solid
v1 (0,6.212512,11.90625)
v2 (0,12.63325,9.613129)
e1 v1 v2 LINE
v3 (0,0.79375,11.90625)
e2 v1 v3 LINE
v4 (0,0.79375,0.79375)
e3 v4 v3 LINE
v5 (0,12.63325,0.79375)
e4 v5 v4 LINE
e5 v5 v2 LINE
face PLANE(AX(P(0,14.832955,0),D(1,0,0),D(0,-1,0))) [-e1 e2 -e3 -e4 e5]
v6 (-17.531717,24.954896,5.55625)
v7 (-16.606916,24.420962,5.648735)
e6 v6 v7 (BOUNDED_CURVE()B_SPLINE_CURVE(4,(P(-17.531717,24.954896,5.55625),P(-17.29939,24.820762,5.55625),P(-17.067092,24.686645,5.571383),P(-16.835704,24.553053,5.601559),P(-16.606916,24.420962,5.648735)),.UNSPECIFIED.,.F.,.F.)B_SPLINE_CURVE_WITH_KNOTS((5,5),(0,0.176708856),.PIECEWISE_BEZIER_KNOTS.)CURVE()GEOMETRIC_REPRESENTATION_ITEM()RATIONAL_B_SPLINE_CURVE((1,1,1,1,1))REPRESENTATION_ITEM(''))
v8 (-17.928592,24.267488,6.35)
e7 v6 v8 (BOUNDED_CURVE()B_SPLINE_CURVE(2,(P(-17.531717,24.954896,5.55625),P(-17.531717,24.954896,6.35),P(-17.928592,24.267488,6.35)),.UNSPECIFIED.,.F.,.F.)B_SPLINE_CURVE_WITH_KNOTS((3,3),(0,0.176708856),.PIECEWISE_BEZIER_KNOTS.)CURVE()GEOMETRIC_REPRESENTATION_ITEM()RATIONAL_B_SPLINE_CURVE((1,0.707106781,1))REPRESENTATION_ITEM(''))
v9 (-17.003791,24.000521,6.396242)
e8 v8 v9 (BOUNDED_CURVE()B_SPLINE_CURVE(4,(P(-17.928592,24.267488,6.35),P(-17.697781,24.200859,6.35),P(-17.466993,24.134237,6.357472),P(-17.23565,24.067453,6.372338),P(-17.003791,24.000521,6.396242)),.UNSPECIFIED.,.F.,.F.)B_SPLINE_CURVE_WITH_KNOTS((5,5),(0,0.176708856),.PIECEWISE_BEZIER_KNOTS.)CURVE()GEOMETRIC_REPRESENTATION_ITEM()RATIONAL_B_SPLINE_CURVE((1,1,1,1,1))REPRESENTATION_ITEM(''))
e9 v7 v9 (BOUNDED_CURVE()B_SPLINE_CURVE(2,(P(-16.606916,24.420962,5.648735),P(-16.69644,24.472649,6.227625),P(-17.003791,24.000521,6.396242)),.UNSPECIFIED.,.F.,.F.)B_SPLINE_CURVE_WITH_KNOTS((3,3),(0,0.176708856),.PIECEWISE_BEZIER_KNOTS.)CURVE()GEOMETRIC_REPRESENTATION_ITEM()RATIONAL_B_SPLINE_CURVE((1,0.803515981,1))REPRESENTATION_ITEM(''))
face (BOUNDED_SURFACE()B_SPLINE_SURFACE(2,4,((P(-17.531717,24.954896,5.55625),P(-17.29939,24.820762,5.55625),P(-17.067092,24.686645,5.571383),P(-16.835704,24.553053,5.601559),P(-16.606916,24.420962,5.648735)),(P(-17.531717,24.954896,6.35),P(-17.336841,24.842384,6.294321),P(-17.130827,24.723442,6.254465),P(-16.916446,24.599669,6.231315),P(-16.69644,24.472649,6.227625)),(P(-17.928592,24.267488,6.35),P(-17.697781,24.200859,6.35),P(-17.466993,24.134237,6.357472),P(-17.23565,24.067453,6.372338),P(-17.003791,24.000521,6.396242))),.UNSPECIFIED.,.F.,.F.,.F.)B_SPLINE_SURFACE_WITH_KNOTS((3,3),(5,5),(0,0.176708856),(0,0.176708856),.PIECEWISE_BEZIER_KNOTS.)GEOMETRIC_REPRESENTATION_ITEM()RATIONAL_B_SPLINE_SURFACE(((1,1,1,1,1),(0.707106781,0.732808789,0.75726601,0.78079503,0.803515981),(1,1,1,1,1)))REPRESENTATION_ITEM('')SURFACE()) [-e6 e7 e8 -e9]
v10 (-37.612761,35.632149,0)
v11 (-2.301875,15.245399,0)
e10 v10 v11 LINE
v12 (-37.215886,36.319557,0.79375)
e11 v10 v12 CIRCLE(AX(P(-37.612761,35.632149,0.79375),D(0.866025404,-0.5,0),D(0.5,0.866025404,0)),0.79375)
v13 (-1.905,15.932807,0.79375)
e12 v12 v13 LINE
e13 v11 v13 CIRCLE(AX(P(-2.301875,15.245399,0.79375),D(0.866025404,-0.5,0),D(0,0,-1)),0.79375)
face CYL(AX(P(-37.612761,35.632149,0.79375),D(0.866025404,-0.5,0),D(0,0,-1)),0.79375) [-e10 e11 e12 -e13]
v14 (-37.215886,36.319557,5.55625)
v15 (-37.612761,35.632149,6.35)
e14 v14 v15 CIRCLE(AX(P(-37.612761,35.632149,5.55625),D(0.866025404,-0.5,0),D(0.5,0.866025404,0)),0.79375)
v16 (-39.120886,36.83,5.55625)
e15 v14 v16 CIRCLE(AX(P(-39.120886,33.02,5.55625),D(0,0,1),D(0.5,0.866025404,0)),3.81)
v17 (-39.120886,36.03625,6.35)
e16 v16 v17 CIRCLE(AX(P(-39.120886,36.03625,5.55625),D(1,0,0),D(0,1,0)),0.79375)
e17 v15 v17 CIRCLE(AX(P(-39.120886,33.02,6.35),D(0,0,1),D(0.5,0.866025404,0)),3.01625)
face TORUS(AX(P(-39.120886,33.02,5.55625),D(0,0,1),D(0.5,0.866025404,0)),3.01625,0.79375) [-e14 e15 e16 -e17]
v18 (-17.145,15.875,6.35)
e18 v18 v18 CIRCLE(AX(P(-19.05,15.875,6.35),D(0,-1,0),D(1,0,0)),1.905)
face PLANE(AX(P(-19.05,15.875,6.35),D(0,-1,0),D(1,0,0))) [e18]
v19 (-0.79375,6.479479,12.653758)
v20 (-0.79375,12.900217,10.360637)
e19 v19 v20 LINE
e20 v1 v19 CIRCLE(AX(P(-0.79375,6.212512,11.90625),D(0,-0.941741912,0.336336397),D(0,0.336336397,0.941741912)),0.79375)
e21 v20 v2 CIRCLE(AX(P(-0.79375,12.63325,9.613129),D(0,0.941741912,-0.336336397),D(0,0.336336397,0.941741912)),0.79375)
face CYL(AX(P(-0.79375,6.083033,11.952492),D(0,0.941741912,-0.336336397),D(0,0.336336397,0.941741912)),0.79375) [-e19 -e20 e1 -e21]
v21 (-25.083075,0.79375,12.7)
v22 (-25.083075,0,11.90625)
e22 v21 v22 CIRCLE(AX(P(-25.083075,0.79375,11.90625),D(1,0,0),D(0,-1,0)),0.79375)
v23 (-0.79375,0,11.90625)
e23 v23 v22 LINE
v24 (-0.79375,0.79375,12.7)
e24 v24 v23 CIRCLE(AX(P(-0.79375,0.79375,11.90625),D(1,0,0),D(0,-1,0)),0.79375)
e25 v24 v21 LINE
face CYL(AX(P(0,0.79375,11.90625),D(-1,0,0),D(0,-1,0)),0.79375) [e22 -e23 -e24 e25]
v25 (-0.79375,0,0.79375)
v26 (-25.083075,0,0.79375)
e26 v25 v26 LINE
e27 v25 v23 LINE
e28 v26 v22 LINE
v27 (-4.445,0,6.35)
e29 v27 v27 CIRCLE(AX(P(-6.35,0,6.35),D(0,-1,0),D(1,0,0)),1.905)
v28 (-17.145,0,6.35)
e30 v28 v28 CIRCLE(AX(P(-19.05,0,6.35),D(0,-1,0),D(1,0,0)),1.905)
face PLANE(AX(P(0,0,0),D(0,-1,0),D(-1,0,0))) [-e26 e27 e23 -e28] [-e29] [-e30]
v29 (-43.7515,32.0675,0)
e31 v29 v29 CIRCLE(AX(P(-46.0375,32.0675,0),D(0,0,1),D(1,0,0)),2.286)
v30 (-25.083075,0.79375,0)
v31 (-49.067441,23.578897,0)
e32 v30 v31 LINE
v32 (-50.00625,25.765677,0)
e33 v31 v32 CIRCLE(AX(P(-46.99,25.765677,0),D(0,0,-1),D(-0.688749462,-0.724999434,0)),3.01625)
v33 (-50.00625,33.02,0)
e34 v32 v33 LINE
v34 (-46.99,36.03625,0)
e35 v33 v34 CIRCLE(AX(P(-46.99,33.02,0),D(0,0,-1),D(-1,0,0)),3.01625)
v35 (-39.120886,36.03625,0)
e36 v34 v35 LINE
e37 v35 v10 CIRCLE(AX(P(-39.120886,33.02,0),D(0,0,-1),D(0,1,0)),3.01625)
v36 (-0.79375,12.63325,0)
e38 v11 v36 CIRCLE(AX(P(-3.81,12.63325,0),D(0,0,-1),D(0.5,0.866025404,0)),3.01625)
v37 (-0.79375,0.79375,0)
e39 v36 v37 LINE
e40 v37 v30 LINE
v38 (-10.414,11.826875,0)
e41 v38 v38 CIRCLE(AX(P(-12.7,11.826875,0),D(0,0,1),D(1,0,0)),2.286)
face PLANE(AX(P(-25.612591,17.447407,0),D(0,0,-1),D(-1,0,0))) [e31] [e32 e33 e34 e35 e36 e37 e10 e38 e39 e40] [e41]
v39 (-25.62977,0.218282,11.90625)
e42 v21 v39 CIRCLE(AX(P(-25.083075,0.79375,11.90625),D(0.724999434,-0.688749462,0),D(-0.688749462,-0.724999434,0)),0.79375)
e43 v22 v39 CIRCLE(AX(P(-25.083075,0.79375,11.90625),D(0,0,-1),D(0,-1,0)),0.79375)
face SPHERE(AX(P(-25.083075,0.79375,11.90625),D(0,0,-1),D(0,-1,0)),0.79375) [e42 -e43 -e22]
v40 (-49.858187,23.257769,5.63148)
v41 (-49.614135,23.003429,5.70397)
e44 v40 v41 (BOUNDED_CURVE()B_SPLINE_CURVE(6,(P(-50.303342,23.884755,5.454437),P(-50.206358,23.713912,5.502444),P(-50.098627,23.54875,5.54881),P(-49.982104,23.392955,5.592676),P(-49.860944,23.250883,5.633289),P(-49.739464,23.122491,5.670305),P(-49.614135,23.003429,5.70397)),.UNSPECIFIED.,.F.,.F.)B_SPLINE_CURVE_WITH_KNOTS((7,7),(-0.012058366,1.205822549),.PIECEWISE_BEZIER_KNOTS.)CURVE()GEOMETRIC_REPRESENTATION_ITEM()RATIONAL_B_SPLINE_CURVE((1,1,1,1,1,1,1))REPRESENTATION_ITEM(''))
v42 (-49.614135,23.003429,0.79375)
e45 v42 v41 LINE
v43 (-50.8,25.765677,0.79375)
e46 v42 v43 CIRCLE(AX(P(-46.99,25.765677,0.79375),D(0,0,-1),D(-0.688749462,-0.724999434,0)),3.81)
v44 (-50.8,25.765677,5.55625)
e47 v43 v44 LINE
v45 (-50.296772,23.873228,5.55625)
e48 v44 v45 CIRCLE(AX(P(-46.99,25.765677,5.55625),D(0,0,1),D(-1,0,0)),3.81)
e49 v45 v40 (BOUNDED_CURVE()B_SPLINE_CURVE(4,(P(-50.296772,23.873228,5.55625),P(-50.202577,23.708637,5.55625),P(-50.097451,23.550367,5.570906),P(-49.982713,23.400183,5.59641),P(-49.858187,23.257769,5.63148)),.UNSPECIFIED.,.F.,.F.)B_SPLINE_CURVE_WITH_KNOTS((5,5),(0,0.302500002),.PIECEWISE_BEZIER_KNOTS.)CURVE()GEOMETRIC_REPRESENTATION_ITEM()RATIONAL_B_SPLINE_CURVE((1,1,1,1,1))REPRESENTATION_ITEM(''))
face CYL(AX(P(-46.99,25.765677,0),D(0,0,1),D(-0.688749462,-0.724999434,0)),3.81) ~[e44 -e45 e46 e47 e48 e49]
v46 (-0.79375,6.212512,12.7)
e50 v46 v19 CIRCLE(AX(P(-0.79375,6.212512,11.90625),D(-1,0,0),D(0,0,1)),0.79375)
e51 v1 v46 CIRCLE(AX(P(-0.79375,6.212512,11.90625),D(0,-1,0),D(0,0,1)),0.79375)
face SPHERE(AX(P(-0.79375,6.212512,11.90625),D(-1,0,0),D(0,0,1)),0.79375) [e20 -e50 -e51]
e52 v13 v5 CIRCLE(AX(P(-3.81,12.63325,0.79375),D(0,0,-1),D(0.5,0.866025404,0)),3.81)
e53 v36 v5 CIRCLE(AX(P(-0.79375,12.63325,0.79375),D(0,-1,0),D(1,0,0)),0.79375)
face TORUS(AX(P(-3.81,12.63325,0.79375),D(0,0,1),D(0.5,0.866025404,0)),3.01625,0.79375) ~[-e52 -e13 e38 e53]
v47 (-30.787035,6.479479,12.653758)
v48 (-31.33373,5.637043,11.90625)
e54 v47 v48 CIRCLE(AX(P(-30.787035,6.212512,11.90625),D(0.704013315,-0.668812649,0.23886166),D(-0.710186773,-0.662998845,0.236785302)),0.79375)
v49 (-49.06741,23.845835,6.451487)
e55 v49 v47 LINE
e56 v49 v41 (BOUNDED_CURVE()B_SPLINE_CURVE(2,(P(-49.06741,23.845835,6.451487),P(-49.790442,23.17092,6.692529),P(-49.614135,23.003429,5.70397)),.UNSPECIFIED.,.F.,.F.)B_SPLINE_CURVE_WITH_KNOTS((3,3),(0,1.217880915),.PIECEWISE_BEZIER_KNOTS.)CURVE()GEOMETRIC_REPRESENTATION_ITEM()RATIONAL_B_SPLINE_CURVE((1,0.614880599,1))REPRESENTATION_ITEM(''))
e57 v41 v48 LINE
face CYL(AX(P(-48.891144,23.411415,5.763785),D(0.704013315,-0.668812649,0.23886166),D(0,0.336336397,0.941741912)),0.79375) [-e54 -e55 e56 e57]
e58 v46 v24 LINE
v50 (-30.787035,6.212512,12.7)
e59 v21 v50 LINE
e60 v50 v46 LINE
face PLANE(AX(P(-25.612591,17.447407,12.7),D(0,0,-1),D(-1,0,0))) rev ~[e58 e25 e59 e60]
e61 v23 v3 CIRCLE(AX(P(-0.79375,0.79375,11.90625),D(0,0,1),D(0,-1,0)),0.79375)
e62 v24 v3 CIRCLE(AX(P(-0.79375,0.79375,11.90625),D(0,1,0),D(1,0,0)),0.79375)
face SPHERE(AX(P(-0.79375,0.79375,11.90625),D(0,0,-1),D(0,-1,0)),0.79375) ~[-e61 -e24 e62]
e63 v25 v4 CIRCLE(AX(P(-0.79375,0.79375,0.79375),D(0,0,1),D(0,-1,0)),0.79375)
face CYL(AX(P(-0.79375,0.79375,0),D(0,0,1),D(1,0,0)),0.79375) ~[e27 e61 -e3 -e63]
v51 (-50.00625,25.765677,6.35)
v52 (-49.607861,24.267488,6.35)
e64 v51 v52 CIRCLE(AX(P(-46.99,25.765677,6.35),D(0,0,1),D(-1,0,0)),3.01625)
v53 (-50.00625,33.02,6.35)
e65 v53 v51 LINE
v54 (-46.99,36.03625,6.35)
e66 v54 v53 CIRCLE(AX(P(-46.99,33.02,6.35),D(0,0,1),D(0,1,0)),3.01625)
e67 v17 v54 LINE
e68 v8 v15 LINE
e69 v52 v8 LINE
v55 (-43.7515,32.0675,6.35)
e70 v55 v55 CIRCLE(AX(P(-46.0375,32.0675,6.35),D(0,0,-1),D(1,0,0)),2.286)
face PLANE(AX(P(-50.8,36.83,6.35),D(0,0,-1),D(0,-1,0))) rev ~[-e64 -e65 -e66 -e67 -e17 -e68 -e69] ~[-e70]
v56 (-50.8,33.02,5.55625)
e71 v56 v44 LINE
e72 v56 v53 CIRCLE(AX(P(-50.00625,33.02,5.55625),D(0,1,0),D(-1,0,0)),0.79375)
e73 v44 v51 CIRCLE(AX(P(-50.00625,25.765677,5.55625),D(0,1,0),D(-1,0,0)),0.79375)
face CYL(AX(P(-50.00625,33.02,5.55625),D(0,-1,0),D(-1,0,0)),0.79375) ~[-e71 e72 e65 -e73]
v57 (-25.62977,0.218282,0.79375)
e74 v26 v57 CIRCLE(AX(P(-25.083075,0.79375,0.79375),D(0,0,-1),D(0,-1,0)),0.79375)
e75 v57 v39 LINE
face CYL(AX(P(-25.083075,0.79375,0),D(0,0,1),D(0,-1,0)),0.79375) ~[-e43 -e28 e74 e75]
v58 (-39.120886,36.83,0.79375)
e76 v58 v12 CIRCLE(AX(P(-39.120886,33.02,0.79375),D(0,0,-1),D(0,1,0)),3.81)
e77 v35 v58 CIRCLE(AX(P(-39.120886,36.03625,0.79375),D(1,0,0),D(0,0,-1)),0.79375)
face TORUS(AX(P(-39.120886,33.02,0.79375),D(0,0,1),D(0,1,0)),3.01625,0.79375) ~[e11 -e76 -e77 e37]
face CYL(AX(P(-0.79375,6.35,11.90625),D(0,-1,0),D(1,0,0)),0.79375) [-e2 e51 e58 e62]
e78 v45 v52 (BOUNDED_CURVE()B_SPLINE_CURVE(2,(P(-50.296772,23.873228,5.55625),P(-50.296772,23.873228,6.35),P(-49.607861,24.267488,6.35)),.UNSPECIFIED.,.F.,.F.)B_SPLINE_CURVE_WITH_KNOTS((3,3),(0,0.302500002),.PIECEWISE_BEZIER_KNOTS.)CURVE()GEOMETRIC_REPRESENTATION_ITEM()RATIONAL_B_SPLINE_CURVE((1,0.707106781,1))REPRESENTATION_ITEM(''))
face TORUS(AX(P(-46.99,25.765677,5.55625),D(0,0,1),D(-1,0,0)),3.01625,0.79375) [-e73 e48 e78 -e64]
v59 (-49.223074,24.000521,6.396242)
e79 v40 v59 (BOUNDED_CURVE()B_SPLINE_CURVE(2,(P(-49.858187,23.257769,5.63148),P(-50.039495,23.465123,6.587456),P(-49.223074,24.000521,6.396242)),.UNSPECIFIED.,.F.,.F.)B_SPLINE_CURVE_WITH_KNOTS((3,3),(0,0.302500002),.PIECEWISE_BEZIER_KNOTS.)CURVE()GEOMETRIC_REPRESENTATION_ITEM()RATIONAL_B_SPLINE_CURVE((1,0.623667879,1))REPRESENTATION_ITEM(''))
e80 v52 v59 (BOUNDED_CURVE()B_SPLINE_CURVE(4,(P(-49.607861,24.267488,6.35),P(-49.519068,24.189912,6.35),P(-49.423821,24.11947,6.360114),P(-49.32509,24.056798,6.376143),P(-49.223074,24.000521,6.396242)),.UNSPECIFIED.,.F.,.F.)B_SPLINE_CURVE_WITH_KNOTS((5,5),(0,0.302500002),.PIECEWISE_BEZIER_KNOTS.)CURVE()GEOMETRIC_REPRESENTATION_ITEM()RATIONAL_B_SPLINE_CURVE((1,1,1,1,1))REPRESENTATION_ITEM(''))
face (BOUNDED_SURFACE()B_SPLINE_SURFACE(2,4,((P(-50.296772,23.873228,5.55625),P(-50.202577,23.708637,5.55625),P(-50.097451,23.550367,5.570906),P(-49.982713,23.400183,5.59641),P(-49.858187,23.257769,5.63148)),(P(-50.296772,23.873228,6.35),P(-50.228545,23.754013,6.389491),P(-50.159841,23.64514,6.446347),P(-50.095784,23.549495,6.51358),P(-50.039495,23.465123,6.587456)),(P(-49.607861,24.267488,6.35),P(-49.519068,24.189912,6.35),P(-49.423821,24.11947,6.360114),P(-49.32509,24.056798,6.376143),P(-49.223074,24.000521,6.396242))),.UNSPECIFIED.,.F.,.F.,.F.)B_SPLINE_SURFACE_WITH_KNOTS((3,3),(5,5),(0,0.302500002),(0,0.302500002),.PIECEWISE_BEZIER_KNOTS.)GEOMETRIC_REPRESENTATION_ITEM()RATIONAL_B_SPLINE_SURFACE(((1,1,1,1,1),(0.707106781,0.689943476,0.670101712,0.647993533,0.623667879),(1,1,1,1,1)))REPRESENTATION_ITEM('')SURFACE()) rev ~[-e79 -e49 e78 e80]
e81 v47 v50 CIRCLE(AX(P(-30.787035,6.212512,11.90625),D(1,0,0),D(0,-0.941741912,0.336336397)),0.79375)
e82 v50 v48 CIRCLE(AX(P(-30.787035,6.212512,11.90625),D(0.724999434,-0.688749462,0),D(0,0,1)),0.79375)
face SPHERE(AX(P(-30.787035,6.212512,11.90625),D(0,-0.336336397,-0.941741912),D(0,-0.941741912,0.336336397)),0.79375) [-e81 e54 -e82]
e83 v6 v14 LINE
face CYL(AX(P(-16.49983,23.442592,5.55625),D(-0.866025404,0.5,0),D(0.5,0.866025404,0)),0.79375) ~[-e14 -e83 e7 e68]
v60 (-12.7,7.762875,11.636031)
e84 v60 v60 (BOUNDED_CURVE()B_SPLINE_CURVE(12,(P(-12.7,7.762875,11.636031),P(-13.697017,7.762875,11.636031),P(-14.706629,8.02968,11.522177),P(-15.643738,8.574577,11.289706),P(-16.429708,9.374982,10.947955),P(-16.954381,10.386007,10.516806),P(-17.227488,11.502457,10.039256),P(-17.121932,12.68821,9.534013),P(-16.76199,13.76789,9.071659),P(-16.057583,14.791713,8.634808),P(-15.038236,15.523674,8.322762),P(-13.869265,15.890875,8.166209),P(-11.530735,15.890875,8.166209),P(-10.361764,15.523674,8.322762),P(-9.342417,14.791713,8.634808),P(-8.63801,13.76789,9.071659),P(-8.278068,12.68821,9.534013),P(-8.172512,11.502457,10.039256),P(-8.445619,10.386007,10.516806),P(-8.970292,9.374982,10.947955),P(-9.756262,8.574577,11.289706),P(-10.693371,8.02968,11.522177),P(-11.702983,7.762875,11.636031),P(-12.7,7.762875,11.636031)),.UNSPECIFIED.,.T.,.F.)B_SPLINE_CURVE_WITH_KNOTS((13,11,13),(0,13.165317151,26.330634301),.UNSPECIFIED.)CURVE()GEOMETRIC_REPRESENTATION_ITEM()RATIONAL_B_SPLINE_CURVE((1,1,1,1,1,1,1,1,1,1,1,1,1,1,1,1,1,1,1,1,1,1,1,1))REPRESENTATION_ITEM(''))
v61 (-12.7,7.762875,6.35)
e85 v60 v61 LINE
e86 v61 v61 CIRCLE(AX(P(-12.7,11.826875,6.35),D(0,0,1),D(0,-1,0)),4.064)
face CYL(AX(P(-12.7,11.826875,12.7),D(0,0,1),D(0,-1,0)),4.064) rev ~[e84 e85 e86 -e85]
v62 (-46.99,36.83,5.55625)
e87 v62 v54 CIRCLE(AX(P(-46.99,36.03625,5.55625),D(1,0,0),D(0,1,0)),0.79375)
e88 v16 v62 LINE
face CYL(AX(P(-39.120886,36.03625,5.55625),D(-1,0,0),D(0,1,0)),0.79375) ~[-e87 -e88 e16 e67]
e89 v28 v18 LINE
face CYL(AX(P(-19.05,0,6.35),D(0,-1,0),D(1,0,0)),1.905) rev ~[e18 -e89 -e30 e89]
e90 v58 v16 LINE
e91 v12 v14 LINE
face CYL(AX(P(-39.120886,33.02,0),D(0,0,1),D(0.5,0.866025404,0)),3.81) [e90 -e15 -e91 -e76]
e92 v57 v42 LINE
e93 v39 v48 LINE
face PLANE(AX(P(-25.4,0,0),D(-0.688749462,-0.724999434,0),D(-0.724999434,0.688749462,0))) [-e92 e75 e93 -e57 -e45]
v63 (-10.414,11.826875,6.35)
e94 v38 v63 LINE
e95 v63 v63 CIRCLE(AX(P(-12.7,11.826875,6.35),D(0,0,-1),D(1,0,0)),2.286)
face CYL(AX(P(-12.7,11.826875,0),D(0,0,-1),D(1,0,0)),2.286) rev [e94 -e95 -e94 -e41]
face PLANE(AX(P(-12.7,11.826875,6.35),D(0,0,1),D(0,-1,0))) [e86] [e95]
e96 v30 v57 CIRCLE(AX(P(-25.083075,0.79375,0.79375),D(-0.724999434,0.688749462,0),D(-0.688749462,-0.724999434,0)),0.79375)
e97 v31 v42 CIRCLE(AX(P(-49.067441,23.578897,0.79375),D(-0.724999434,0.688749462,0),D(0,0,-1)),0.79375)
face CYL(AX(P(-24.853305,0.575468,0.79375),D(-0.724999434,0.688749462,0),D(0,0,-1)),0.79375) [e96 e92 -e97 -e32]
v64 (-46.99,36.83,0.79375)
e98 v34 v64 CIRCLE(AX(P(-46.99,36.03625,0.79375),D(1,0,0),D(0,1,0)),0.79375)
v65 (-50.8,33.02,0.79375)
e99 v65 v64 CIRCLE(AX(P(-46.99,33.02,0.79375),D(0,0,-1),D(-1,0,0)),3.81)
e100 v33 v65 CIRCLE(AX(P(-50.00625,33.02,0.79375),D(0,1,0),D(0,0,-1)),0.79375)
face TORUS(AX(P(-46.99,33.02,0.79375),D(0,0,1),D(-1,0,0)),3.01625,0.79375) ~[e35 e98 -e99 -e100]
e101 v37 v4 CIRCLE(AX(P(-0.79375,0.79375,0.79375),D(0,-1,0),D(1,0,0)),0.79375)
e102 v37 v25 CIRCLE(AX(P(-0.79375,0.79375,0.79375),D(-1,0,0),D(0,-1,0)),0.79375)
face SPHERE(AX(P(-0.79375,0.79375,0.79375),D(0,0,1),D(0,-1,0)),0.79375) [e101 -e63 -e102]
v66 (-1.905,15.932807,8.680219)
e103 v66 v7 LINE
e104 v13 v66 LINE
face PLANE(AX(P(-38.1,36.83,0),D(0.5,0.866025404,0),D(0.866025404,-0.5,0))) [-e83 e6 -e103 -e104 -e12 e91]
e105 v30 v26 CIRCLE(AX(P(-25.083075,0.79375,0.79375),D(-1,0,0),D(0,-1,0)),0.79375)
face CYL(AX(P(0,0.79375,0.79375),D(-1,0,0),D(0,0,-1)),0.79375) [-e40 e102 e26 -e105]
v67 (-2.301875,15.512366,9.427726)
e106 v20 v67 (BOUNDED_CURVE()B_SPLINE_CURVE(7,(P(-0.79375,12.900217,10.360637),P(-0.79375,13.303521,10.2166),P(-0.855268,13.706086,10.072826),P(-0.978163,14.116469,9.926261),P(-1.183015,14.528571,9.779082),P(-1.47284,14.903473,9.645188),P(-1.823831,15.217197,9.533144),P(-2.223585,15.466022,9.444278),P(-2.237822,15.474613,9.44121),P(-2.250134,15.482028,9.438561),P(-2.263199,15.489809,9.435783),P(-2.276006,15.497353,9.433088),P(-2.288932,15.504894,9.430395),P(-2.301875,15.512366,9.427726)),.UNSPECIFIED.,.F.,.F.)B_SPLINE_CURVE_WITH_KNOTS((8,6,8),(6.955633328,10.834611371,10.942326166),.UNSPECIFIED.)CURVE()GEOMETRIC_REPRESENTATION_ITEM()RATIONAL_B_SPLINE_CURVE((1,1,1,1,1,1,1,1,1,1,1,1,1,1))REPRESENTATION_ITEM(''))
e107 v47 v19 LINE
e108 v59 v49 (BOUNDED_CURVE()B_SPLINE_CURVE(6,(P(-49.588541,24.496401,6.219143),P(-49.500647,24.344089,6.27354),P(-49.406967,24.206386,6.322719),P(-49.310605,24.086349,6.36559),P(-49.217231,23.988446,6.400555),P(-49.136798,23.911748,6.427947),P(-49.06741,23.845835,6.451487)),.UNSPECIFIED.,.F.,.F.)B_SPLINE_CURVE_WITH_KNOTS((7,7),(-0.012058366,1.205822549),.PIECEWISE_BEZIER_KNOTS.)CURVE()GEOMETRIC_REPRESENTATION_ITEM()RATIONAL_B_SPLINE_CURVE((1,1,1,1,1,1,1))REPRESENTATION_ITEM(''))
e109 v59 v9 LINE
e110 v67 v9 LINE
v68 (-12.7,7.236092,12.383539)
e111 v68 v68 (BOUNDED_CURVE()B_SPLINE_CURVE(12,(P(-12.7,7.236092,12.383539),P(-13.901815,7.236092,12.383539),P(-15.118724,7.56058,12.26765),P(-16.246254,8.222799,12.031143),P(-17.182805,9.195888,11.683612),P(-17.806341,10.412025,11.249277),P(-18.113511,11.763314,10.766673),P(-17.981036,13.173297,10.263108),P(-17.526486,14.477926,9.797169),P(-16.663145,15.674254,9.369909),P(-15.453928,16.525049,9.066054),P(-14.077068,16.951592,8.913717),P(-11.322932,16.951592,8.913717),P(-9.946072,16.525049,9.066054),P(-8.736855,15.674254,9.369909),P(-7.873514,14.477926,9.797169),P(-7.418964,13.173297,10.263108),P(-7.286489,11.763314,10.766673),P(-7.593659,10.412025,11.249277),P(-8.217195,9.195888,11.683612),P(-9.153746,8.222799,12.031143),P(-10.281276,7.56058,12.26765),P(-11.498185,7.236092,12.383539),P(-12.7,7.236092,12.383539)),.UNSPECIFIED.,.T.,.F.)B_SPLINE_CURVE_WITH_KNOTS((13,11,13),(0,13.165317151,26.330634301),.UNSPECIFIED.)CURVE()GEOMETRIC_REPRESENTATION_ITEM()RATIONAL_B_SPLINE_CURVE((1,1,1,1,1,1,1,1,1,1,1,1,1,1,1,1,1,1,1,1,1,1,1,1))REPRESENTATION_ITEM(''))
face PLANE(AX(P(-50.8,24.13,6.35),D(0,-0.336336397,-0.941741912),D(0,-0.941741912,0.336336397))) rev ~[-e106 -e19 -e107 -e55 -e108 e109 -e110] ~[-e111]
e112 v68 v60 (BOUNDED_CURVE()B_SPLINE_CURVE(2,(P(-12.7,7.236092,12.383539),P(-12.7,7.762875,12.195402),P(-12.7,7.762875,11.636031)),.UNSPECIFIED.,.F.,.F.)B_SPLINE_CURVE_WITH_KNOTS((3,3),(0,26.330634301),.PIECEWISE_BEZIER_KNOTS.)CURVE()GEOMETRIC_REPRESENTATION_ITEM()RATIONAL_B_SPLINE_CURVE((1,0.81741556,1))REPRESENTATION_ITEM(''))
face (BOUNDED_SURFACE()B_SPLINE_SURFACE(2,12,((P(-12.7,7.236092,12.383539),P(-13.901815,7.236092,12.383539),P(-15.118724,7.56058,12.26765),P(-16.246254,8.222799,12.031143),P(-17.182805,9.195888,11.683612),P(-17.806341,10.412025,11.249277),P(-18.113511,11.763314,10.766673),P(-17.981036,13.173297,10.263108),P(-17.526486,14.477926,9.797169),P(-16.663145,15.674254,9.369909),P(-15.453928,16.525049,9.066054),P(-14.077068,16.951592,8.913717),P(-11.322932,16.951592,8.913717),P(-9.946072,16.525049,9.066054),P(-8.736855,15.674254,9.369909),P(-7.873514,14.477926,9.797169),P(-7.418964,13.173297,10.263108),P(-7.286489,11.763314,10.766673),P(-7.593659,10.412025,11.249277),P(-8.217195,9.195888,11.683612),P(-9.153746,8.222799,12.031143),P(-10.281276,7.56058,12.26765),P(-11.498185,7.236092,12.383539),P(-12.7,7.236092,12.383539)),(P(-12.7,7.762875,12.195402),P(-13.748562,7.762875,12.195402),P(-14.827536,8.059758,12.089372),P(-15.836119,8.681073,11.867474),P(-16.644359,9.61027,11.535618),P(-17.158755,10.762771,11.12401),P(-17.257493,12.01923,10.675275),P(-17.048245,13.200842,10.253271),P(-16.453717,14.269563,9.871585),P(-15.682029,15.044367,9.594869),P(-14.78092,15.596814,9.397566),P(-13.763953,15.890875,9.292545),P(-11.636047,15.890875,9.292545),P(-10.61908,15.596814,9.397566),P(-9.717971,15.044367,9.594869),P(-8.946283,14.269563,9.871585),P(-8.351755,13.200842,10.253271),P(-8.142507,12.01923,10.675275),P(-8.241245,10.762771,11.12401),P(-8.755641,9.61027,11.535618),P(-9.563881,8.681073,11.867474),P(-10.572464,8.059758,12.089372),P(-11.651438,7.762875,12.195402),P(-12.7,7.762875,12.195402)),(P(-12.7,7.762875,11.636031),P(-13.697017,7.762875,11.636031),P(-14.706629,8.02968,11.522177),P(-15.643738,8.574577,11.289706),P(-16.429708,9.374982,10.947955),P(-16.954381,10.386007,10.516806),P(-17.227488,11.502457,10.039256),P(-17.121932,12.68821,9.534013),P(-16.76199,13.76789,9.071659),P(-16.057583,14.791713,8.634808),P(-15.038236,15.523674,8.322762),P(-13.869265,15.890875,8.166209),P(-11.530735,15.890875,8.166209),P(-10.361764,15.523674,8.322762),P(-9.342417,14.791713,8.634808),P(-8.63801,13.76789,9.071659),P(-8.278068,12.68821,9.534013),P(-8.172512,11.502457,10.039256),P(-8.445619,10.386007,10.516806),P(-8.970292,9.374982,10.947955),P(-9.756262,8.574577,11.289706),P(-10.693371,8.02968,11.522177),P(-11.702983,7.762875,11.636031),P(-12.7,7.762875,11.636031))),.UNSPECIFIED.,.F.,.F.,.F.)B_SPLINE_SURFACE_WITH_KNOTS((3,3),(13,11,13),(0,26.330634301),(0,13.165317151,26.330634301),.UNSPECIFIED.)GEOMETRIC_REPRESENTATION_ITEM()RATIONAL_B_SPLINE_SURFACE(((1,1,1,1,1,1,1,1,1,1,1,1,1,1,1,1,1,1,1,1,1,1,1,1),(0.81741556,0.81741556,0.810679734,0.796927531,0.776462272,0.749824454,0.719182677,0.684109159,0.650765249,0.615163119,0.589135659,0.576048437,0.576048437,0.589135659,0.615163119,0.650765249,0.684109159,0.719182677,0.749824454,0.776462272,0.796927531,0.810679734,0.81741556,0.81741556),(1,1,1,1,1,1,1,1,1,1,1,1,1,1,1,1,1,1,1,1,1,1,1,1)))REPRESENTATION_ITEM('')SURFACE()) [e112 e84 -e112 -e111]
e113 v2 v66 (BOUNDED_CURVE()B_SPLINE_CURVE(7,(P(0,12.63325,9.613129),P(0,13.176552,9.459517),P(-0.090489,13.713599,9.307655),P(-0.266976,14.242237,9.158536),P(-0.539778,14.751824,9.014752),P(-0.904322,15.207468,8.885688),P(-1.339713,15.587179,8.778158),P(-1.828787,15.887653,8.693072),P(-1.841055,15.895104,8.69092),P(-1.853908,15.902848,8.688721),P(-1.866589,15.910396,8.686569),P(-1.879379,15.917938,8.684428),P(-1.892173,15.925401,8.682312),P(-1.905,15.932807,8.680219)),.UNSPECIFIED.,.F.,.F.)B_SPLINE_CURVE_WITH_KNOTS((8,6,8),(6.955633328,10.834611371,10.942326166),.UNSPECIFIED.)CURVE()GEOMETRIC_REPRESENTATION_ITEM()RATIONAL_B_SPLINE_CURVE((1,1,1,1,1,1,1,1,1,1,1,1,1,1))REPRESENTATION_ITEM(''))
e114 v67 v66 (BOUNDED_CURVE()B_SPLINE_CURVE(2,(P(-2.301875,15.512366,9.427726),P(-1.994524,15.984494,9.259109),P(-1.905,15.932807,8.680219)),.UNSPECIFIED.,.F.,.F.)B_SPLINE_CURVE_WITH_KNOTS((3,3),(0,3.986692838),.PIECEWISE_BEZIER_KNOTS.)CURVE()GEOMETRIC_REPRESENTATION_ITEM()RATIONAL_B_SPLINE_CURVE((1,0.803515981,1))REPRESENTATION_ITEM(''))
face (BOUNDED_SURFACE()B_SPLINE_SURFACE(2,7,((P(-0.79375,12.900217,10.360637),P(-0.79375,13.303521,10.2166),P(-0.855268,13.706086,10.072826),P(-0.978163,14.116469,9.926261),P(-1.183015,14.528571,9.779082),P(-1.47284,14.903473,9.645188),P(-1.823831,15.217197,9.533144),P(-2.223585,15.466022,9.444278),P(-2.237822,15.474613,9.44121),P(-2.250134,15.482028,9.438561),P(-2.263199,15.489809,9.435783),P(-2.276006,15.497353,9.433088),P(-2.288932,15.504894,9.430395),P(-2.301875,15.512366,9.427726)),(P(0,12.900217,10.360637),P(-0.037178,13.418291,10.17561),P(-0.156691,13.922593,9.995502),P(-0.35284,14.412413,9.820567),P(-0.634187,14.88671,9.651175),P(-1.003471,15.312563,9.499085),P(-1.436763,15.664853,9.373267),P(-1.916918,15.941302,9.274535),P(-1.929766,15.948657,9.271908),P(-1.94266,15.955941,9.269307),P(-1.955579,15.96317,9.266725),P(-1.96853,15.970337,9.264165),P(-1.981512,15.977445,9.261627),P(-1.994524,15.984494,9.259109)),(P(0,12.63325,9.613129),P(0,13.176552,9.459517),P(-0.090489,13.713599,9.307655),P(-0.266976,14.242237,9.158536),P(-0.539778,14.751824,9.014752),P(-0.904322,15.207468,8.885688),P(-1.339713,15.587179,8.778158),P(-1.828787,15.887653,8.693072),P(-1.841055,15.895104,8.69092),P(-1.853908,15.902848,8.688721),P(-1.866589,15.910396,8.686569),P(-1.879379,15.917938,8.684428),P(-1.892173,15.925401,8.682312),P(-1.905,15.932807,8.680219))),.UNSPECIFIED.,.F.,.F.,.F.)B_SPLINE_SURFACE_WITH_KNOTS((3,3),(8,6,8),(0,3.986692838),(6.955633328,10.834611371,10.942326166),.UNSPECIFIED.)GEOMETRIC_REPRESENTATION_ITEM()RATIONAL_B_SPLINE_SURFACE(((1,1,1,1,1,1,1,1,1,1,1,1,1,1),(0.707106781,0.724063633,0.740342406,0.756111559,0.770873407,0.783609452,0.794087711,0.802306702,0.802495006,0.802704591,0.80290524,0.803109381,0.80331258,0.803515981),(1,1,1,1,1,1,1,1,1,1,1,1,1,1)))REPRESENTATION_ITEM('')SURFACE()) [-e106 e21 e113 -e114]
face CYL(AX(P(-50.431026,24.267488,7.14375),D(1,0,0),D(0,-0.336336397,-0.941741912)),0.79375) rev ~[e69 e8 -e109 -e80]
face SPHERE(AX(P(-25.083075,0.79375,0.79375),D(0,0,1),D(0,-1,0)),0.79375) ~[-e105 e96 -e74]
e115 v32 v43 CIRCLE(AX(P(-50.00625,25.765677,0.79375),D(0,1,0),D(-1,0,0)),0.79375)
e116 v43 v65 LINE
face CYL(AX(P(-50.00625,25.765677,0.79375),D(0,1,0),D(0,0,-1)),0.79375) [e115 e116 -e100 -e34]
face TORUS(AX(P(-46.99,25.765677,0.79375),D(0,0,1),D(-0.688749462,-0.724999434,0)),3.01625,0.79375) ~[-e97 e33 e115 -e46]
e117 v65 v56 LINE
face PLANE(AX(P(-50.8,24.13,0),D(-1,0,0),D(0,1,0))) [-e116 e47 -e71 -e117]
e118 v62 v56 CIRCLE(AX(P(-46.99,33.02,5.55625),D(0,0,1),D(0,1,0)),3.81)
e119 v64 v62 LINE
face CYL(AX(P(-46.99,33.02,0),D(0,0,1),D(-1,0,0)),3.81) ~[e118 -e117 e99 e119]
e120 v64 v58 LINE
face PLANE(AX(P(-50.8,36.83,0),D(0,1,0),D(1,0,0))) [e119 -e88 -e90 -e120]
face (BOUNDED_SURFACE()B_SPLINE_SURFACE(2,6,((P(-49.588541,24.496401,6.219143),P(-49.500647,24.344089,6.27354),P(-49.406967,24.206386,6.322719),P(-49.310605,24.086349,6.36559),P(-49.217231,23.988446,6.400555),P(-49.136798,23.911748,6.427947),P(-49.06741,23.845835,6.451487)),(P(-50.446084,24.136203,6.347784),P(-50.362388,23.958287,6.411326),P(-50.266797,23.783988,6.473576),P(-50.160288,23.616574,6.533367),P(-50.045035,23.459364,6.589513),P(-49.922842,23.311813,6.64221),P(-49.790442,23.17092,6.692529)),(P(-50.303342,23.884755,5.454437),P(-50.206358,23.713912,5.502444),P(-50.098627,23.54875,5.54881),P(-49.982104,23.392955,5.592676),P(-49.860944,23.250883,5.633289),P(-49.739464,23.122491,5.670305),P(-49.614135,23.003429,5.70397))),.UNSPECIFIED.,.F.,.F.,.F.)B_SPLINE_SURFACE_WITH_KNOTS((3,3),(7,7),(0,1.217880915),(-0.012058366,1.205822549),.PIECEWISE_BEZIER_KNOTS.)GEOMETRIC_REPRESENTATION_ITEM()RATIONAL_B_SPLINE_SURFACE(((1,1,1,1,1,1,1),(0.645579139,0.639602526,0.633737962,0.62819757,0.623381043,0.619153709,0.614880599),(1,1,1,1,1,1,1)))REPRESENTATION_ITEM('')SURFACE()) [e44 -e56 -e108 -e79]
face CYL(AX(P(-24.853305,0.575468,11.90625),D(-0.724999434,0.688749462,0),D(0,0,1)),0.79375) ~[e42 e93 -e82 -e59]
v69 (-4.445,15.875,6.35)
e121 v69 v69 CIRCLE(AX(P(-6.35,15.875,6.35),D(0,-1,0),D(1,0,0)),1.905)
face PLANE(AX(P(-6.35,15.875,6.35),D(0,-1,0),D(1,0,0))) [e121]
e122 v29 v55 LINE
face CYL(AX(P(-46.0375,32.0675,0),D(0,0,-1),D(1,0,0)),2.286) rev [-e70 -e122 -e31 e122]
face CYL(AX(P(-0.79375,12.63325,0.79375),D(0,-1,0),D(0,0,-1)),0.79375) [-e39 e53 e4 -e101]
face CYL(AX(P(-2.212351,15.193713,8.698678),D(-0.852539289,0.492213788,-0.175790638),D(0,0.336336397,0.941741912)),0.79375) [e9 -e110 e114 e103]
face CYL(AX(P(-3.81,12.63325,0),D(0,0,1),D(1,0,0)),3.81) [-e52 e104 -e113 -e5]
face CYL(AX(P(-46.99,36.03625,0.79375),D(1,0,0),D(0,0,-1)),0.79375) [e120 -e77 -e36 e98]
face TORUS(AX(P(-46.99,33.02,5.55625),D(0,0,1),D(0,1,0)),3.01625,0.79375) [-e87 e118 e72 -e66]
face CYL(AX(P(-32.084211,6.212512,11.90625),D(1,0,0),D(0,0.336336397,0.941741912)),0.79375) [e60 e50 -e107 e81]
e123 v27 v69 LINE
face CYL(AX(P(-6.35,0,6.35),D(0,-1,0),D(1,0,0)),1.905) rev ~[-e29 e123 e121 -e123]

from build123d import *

# Parameters (mm, degrees)
SKETCH8_R           = 2.286
BOSS_EXTRUDE1_DEPTH = 12.7
SKETCH9_R           = 1.905
CUT_EXTRUDE4_DEPTH  = 15.875
CUT_EXTRUDE5_DEPTH  = 65.018582459
SKETCH11_R          = 4.064
CUT_EXTRUDE6_DEPTH  = 6.35
FILLET1_R           = 3.81
FILLET2_R           = 0.79375


with BuildPart() as part:
    # Sketch8 → Boss-Extrude1 (new body)
    with BuildSketch(Plane.XY):
        Polygon((0, 0), (-25.4, 0), (-50.8, 24.13), (-50.8, 36.83), (-38.1, 36.83), (0, 14.832954744), align=None)
        with Locations((-12.7, 11.826875)):
            Circle(SKETCH8_R, mode=Mode.SUBTRACT)
        with Locations((-46.0375, 32.0675)):
            Circle(SKETCH8_R, mode=Mode.SUBTRACT)
    extrude(amount=BOSS_EXTRUDE1_DEPTH)

    # Sketch9 → Cut-Extrude4 (cut)
    with BuildSketch(Plane.XZ):
        with Locations((-6.35, 6.35)):
            Circle(SKETCH9_R)
        with Locations((-19.05, 6.35)):
            Circle(SKETCH9_R)
    extrude(amount=-CUT_EXTRUDE4_DEPTH, mode=Mode.SUBTRACT)

    # Sketch10 → Cut-Extrude5 (cut, through all)
    with BuildSketch(Plane.ZY.offset(50.8)):
        Polygon((6.35, 36.83), (6.35, 24.13), (12.7, 6.35), (12.7, 36.83), align=None)
    extrude(amount=-CUT_EXTRUDE5_DEPTH, mode=Mode.SUBTRACT)

    # Sketch11 → Cut-Extrude6 (cut)
    with BuildSketch(Plane.XY.offset(12.7)):
        with Locations(Location((-12.7, 11.826875, 0), (0, 0, 270))):
            Circle(SKETCH11_R)
    extrude(amount=-CUT_EXTRUDE6_DEPTH, mode=Mode.SUBTRACT)

    # Fillet1
    fillet1_edges = [part.edges().sort_by_distance(p)[0] for p in [
        (-50.8, 24.13, 3.175),
        (-50.8, 36.83, 3.175),
        (-38.1, 36.83, 3.175),
        (0, 14.832954744, 4.835186653),
    ]]
    fillet(fillet1_edges, radius=FILLET1_R)

    # Fillet2
    fillet2_edges = [part.edges().sort_by_distance(p)[0] for p in [
        (0, 0, 6.35),
        (-25.4, 0, 6.35),
        (-12.7, 0, 12.7),
        (-28.742105263, 3.175, 12.7),
        (-9.003977372, 20.031403503, 7.813784463),
        (-16.042105263, 6.35, 12.7),
        (-40.849172988, 14.676714339, 9.72617345),
        (-33.266990546, 24.13, 6.35),
        (0, 3.175, 12.7),
        (-12.7, 0, 0),
        (-12.699987477, 15.890875, 9.292544643),
        (-37.507067725, 11.501714339, 0),
        (-50.8, 29.39283826, 0),
        (-43.055443212, 36.83, 0),
        (-19.560443212, 26.126181898, 0),
        (-0.510443212, 14.538250218, 0),
        (-38.134785861, 36.700177398, 0),
        (-49.684076836, 35.714076836, 0),
        (-50.491003861, 24.262655572, 0),
        (-50.8, 29.39283826, 6.35),
        (-43.055443212, 36.83, 6.35),
        (-26.659420584, 30.224778394, 6.35),
        (-38.134785861, 36.700177398, 6.35),
        (-49.684076836, 35.714076836, 6.35),
        (-50.706612058, 24.927288299, 6.35),
        (0, 9.491625109, 11.577991032),
        (0, 6.316625109, 0),
        (-0.498461944, 14.517345679, 9.783090829),
        (-50.076536566, 23.531981816, 6.563577923),
    ]]
    fillet(fillet2_edges, radius=FILLET2_R)


solid = part.part
